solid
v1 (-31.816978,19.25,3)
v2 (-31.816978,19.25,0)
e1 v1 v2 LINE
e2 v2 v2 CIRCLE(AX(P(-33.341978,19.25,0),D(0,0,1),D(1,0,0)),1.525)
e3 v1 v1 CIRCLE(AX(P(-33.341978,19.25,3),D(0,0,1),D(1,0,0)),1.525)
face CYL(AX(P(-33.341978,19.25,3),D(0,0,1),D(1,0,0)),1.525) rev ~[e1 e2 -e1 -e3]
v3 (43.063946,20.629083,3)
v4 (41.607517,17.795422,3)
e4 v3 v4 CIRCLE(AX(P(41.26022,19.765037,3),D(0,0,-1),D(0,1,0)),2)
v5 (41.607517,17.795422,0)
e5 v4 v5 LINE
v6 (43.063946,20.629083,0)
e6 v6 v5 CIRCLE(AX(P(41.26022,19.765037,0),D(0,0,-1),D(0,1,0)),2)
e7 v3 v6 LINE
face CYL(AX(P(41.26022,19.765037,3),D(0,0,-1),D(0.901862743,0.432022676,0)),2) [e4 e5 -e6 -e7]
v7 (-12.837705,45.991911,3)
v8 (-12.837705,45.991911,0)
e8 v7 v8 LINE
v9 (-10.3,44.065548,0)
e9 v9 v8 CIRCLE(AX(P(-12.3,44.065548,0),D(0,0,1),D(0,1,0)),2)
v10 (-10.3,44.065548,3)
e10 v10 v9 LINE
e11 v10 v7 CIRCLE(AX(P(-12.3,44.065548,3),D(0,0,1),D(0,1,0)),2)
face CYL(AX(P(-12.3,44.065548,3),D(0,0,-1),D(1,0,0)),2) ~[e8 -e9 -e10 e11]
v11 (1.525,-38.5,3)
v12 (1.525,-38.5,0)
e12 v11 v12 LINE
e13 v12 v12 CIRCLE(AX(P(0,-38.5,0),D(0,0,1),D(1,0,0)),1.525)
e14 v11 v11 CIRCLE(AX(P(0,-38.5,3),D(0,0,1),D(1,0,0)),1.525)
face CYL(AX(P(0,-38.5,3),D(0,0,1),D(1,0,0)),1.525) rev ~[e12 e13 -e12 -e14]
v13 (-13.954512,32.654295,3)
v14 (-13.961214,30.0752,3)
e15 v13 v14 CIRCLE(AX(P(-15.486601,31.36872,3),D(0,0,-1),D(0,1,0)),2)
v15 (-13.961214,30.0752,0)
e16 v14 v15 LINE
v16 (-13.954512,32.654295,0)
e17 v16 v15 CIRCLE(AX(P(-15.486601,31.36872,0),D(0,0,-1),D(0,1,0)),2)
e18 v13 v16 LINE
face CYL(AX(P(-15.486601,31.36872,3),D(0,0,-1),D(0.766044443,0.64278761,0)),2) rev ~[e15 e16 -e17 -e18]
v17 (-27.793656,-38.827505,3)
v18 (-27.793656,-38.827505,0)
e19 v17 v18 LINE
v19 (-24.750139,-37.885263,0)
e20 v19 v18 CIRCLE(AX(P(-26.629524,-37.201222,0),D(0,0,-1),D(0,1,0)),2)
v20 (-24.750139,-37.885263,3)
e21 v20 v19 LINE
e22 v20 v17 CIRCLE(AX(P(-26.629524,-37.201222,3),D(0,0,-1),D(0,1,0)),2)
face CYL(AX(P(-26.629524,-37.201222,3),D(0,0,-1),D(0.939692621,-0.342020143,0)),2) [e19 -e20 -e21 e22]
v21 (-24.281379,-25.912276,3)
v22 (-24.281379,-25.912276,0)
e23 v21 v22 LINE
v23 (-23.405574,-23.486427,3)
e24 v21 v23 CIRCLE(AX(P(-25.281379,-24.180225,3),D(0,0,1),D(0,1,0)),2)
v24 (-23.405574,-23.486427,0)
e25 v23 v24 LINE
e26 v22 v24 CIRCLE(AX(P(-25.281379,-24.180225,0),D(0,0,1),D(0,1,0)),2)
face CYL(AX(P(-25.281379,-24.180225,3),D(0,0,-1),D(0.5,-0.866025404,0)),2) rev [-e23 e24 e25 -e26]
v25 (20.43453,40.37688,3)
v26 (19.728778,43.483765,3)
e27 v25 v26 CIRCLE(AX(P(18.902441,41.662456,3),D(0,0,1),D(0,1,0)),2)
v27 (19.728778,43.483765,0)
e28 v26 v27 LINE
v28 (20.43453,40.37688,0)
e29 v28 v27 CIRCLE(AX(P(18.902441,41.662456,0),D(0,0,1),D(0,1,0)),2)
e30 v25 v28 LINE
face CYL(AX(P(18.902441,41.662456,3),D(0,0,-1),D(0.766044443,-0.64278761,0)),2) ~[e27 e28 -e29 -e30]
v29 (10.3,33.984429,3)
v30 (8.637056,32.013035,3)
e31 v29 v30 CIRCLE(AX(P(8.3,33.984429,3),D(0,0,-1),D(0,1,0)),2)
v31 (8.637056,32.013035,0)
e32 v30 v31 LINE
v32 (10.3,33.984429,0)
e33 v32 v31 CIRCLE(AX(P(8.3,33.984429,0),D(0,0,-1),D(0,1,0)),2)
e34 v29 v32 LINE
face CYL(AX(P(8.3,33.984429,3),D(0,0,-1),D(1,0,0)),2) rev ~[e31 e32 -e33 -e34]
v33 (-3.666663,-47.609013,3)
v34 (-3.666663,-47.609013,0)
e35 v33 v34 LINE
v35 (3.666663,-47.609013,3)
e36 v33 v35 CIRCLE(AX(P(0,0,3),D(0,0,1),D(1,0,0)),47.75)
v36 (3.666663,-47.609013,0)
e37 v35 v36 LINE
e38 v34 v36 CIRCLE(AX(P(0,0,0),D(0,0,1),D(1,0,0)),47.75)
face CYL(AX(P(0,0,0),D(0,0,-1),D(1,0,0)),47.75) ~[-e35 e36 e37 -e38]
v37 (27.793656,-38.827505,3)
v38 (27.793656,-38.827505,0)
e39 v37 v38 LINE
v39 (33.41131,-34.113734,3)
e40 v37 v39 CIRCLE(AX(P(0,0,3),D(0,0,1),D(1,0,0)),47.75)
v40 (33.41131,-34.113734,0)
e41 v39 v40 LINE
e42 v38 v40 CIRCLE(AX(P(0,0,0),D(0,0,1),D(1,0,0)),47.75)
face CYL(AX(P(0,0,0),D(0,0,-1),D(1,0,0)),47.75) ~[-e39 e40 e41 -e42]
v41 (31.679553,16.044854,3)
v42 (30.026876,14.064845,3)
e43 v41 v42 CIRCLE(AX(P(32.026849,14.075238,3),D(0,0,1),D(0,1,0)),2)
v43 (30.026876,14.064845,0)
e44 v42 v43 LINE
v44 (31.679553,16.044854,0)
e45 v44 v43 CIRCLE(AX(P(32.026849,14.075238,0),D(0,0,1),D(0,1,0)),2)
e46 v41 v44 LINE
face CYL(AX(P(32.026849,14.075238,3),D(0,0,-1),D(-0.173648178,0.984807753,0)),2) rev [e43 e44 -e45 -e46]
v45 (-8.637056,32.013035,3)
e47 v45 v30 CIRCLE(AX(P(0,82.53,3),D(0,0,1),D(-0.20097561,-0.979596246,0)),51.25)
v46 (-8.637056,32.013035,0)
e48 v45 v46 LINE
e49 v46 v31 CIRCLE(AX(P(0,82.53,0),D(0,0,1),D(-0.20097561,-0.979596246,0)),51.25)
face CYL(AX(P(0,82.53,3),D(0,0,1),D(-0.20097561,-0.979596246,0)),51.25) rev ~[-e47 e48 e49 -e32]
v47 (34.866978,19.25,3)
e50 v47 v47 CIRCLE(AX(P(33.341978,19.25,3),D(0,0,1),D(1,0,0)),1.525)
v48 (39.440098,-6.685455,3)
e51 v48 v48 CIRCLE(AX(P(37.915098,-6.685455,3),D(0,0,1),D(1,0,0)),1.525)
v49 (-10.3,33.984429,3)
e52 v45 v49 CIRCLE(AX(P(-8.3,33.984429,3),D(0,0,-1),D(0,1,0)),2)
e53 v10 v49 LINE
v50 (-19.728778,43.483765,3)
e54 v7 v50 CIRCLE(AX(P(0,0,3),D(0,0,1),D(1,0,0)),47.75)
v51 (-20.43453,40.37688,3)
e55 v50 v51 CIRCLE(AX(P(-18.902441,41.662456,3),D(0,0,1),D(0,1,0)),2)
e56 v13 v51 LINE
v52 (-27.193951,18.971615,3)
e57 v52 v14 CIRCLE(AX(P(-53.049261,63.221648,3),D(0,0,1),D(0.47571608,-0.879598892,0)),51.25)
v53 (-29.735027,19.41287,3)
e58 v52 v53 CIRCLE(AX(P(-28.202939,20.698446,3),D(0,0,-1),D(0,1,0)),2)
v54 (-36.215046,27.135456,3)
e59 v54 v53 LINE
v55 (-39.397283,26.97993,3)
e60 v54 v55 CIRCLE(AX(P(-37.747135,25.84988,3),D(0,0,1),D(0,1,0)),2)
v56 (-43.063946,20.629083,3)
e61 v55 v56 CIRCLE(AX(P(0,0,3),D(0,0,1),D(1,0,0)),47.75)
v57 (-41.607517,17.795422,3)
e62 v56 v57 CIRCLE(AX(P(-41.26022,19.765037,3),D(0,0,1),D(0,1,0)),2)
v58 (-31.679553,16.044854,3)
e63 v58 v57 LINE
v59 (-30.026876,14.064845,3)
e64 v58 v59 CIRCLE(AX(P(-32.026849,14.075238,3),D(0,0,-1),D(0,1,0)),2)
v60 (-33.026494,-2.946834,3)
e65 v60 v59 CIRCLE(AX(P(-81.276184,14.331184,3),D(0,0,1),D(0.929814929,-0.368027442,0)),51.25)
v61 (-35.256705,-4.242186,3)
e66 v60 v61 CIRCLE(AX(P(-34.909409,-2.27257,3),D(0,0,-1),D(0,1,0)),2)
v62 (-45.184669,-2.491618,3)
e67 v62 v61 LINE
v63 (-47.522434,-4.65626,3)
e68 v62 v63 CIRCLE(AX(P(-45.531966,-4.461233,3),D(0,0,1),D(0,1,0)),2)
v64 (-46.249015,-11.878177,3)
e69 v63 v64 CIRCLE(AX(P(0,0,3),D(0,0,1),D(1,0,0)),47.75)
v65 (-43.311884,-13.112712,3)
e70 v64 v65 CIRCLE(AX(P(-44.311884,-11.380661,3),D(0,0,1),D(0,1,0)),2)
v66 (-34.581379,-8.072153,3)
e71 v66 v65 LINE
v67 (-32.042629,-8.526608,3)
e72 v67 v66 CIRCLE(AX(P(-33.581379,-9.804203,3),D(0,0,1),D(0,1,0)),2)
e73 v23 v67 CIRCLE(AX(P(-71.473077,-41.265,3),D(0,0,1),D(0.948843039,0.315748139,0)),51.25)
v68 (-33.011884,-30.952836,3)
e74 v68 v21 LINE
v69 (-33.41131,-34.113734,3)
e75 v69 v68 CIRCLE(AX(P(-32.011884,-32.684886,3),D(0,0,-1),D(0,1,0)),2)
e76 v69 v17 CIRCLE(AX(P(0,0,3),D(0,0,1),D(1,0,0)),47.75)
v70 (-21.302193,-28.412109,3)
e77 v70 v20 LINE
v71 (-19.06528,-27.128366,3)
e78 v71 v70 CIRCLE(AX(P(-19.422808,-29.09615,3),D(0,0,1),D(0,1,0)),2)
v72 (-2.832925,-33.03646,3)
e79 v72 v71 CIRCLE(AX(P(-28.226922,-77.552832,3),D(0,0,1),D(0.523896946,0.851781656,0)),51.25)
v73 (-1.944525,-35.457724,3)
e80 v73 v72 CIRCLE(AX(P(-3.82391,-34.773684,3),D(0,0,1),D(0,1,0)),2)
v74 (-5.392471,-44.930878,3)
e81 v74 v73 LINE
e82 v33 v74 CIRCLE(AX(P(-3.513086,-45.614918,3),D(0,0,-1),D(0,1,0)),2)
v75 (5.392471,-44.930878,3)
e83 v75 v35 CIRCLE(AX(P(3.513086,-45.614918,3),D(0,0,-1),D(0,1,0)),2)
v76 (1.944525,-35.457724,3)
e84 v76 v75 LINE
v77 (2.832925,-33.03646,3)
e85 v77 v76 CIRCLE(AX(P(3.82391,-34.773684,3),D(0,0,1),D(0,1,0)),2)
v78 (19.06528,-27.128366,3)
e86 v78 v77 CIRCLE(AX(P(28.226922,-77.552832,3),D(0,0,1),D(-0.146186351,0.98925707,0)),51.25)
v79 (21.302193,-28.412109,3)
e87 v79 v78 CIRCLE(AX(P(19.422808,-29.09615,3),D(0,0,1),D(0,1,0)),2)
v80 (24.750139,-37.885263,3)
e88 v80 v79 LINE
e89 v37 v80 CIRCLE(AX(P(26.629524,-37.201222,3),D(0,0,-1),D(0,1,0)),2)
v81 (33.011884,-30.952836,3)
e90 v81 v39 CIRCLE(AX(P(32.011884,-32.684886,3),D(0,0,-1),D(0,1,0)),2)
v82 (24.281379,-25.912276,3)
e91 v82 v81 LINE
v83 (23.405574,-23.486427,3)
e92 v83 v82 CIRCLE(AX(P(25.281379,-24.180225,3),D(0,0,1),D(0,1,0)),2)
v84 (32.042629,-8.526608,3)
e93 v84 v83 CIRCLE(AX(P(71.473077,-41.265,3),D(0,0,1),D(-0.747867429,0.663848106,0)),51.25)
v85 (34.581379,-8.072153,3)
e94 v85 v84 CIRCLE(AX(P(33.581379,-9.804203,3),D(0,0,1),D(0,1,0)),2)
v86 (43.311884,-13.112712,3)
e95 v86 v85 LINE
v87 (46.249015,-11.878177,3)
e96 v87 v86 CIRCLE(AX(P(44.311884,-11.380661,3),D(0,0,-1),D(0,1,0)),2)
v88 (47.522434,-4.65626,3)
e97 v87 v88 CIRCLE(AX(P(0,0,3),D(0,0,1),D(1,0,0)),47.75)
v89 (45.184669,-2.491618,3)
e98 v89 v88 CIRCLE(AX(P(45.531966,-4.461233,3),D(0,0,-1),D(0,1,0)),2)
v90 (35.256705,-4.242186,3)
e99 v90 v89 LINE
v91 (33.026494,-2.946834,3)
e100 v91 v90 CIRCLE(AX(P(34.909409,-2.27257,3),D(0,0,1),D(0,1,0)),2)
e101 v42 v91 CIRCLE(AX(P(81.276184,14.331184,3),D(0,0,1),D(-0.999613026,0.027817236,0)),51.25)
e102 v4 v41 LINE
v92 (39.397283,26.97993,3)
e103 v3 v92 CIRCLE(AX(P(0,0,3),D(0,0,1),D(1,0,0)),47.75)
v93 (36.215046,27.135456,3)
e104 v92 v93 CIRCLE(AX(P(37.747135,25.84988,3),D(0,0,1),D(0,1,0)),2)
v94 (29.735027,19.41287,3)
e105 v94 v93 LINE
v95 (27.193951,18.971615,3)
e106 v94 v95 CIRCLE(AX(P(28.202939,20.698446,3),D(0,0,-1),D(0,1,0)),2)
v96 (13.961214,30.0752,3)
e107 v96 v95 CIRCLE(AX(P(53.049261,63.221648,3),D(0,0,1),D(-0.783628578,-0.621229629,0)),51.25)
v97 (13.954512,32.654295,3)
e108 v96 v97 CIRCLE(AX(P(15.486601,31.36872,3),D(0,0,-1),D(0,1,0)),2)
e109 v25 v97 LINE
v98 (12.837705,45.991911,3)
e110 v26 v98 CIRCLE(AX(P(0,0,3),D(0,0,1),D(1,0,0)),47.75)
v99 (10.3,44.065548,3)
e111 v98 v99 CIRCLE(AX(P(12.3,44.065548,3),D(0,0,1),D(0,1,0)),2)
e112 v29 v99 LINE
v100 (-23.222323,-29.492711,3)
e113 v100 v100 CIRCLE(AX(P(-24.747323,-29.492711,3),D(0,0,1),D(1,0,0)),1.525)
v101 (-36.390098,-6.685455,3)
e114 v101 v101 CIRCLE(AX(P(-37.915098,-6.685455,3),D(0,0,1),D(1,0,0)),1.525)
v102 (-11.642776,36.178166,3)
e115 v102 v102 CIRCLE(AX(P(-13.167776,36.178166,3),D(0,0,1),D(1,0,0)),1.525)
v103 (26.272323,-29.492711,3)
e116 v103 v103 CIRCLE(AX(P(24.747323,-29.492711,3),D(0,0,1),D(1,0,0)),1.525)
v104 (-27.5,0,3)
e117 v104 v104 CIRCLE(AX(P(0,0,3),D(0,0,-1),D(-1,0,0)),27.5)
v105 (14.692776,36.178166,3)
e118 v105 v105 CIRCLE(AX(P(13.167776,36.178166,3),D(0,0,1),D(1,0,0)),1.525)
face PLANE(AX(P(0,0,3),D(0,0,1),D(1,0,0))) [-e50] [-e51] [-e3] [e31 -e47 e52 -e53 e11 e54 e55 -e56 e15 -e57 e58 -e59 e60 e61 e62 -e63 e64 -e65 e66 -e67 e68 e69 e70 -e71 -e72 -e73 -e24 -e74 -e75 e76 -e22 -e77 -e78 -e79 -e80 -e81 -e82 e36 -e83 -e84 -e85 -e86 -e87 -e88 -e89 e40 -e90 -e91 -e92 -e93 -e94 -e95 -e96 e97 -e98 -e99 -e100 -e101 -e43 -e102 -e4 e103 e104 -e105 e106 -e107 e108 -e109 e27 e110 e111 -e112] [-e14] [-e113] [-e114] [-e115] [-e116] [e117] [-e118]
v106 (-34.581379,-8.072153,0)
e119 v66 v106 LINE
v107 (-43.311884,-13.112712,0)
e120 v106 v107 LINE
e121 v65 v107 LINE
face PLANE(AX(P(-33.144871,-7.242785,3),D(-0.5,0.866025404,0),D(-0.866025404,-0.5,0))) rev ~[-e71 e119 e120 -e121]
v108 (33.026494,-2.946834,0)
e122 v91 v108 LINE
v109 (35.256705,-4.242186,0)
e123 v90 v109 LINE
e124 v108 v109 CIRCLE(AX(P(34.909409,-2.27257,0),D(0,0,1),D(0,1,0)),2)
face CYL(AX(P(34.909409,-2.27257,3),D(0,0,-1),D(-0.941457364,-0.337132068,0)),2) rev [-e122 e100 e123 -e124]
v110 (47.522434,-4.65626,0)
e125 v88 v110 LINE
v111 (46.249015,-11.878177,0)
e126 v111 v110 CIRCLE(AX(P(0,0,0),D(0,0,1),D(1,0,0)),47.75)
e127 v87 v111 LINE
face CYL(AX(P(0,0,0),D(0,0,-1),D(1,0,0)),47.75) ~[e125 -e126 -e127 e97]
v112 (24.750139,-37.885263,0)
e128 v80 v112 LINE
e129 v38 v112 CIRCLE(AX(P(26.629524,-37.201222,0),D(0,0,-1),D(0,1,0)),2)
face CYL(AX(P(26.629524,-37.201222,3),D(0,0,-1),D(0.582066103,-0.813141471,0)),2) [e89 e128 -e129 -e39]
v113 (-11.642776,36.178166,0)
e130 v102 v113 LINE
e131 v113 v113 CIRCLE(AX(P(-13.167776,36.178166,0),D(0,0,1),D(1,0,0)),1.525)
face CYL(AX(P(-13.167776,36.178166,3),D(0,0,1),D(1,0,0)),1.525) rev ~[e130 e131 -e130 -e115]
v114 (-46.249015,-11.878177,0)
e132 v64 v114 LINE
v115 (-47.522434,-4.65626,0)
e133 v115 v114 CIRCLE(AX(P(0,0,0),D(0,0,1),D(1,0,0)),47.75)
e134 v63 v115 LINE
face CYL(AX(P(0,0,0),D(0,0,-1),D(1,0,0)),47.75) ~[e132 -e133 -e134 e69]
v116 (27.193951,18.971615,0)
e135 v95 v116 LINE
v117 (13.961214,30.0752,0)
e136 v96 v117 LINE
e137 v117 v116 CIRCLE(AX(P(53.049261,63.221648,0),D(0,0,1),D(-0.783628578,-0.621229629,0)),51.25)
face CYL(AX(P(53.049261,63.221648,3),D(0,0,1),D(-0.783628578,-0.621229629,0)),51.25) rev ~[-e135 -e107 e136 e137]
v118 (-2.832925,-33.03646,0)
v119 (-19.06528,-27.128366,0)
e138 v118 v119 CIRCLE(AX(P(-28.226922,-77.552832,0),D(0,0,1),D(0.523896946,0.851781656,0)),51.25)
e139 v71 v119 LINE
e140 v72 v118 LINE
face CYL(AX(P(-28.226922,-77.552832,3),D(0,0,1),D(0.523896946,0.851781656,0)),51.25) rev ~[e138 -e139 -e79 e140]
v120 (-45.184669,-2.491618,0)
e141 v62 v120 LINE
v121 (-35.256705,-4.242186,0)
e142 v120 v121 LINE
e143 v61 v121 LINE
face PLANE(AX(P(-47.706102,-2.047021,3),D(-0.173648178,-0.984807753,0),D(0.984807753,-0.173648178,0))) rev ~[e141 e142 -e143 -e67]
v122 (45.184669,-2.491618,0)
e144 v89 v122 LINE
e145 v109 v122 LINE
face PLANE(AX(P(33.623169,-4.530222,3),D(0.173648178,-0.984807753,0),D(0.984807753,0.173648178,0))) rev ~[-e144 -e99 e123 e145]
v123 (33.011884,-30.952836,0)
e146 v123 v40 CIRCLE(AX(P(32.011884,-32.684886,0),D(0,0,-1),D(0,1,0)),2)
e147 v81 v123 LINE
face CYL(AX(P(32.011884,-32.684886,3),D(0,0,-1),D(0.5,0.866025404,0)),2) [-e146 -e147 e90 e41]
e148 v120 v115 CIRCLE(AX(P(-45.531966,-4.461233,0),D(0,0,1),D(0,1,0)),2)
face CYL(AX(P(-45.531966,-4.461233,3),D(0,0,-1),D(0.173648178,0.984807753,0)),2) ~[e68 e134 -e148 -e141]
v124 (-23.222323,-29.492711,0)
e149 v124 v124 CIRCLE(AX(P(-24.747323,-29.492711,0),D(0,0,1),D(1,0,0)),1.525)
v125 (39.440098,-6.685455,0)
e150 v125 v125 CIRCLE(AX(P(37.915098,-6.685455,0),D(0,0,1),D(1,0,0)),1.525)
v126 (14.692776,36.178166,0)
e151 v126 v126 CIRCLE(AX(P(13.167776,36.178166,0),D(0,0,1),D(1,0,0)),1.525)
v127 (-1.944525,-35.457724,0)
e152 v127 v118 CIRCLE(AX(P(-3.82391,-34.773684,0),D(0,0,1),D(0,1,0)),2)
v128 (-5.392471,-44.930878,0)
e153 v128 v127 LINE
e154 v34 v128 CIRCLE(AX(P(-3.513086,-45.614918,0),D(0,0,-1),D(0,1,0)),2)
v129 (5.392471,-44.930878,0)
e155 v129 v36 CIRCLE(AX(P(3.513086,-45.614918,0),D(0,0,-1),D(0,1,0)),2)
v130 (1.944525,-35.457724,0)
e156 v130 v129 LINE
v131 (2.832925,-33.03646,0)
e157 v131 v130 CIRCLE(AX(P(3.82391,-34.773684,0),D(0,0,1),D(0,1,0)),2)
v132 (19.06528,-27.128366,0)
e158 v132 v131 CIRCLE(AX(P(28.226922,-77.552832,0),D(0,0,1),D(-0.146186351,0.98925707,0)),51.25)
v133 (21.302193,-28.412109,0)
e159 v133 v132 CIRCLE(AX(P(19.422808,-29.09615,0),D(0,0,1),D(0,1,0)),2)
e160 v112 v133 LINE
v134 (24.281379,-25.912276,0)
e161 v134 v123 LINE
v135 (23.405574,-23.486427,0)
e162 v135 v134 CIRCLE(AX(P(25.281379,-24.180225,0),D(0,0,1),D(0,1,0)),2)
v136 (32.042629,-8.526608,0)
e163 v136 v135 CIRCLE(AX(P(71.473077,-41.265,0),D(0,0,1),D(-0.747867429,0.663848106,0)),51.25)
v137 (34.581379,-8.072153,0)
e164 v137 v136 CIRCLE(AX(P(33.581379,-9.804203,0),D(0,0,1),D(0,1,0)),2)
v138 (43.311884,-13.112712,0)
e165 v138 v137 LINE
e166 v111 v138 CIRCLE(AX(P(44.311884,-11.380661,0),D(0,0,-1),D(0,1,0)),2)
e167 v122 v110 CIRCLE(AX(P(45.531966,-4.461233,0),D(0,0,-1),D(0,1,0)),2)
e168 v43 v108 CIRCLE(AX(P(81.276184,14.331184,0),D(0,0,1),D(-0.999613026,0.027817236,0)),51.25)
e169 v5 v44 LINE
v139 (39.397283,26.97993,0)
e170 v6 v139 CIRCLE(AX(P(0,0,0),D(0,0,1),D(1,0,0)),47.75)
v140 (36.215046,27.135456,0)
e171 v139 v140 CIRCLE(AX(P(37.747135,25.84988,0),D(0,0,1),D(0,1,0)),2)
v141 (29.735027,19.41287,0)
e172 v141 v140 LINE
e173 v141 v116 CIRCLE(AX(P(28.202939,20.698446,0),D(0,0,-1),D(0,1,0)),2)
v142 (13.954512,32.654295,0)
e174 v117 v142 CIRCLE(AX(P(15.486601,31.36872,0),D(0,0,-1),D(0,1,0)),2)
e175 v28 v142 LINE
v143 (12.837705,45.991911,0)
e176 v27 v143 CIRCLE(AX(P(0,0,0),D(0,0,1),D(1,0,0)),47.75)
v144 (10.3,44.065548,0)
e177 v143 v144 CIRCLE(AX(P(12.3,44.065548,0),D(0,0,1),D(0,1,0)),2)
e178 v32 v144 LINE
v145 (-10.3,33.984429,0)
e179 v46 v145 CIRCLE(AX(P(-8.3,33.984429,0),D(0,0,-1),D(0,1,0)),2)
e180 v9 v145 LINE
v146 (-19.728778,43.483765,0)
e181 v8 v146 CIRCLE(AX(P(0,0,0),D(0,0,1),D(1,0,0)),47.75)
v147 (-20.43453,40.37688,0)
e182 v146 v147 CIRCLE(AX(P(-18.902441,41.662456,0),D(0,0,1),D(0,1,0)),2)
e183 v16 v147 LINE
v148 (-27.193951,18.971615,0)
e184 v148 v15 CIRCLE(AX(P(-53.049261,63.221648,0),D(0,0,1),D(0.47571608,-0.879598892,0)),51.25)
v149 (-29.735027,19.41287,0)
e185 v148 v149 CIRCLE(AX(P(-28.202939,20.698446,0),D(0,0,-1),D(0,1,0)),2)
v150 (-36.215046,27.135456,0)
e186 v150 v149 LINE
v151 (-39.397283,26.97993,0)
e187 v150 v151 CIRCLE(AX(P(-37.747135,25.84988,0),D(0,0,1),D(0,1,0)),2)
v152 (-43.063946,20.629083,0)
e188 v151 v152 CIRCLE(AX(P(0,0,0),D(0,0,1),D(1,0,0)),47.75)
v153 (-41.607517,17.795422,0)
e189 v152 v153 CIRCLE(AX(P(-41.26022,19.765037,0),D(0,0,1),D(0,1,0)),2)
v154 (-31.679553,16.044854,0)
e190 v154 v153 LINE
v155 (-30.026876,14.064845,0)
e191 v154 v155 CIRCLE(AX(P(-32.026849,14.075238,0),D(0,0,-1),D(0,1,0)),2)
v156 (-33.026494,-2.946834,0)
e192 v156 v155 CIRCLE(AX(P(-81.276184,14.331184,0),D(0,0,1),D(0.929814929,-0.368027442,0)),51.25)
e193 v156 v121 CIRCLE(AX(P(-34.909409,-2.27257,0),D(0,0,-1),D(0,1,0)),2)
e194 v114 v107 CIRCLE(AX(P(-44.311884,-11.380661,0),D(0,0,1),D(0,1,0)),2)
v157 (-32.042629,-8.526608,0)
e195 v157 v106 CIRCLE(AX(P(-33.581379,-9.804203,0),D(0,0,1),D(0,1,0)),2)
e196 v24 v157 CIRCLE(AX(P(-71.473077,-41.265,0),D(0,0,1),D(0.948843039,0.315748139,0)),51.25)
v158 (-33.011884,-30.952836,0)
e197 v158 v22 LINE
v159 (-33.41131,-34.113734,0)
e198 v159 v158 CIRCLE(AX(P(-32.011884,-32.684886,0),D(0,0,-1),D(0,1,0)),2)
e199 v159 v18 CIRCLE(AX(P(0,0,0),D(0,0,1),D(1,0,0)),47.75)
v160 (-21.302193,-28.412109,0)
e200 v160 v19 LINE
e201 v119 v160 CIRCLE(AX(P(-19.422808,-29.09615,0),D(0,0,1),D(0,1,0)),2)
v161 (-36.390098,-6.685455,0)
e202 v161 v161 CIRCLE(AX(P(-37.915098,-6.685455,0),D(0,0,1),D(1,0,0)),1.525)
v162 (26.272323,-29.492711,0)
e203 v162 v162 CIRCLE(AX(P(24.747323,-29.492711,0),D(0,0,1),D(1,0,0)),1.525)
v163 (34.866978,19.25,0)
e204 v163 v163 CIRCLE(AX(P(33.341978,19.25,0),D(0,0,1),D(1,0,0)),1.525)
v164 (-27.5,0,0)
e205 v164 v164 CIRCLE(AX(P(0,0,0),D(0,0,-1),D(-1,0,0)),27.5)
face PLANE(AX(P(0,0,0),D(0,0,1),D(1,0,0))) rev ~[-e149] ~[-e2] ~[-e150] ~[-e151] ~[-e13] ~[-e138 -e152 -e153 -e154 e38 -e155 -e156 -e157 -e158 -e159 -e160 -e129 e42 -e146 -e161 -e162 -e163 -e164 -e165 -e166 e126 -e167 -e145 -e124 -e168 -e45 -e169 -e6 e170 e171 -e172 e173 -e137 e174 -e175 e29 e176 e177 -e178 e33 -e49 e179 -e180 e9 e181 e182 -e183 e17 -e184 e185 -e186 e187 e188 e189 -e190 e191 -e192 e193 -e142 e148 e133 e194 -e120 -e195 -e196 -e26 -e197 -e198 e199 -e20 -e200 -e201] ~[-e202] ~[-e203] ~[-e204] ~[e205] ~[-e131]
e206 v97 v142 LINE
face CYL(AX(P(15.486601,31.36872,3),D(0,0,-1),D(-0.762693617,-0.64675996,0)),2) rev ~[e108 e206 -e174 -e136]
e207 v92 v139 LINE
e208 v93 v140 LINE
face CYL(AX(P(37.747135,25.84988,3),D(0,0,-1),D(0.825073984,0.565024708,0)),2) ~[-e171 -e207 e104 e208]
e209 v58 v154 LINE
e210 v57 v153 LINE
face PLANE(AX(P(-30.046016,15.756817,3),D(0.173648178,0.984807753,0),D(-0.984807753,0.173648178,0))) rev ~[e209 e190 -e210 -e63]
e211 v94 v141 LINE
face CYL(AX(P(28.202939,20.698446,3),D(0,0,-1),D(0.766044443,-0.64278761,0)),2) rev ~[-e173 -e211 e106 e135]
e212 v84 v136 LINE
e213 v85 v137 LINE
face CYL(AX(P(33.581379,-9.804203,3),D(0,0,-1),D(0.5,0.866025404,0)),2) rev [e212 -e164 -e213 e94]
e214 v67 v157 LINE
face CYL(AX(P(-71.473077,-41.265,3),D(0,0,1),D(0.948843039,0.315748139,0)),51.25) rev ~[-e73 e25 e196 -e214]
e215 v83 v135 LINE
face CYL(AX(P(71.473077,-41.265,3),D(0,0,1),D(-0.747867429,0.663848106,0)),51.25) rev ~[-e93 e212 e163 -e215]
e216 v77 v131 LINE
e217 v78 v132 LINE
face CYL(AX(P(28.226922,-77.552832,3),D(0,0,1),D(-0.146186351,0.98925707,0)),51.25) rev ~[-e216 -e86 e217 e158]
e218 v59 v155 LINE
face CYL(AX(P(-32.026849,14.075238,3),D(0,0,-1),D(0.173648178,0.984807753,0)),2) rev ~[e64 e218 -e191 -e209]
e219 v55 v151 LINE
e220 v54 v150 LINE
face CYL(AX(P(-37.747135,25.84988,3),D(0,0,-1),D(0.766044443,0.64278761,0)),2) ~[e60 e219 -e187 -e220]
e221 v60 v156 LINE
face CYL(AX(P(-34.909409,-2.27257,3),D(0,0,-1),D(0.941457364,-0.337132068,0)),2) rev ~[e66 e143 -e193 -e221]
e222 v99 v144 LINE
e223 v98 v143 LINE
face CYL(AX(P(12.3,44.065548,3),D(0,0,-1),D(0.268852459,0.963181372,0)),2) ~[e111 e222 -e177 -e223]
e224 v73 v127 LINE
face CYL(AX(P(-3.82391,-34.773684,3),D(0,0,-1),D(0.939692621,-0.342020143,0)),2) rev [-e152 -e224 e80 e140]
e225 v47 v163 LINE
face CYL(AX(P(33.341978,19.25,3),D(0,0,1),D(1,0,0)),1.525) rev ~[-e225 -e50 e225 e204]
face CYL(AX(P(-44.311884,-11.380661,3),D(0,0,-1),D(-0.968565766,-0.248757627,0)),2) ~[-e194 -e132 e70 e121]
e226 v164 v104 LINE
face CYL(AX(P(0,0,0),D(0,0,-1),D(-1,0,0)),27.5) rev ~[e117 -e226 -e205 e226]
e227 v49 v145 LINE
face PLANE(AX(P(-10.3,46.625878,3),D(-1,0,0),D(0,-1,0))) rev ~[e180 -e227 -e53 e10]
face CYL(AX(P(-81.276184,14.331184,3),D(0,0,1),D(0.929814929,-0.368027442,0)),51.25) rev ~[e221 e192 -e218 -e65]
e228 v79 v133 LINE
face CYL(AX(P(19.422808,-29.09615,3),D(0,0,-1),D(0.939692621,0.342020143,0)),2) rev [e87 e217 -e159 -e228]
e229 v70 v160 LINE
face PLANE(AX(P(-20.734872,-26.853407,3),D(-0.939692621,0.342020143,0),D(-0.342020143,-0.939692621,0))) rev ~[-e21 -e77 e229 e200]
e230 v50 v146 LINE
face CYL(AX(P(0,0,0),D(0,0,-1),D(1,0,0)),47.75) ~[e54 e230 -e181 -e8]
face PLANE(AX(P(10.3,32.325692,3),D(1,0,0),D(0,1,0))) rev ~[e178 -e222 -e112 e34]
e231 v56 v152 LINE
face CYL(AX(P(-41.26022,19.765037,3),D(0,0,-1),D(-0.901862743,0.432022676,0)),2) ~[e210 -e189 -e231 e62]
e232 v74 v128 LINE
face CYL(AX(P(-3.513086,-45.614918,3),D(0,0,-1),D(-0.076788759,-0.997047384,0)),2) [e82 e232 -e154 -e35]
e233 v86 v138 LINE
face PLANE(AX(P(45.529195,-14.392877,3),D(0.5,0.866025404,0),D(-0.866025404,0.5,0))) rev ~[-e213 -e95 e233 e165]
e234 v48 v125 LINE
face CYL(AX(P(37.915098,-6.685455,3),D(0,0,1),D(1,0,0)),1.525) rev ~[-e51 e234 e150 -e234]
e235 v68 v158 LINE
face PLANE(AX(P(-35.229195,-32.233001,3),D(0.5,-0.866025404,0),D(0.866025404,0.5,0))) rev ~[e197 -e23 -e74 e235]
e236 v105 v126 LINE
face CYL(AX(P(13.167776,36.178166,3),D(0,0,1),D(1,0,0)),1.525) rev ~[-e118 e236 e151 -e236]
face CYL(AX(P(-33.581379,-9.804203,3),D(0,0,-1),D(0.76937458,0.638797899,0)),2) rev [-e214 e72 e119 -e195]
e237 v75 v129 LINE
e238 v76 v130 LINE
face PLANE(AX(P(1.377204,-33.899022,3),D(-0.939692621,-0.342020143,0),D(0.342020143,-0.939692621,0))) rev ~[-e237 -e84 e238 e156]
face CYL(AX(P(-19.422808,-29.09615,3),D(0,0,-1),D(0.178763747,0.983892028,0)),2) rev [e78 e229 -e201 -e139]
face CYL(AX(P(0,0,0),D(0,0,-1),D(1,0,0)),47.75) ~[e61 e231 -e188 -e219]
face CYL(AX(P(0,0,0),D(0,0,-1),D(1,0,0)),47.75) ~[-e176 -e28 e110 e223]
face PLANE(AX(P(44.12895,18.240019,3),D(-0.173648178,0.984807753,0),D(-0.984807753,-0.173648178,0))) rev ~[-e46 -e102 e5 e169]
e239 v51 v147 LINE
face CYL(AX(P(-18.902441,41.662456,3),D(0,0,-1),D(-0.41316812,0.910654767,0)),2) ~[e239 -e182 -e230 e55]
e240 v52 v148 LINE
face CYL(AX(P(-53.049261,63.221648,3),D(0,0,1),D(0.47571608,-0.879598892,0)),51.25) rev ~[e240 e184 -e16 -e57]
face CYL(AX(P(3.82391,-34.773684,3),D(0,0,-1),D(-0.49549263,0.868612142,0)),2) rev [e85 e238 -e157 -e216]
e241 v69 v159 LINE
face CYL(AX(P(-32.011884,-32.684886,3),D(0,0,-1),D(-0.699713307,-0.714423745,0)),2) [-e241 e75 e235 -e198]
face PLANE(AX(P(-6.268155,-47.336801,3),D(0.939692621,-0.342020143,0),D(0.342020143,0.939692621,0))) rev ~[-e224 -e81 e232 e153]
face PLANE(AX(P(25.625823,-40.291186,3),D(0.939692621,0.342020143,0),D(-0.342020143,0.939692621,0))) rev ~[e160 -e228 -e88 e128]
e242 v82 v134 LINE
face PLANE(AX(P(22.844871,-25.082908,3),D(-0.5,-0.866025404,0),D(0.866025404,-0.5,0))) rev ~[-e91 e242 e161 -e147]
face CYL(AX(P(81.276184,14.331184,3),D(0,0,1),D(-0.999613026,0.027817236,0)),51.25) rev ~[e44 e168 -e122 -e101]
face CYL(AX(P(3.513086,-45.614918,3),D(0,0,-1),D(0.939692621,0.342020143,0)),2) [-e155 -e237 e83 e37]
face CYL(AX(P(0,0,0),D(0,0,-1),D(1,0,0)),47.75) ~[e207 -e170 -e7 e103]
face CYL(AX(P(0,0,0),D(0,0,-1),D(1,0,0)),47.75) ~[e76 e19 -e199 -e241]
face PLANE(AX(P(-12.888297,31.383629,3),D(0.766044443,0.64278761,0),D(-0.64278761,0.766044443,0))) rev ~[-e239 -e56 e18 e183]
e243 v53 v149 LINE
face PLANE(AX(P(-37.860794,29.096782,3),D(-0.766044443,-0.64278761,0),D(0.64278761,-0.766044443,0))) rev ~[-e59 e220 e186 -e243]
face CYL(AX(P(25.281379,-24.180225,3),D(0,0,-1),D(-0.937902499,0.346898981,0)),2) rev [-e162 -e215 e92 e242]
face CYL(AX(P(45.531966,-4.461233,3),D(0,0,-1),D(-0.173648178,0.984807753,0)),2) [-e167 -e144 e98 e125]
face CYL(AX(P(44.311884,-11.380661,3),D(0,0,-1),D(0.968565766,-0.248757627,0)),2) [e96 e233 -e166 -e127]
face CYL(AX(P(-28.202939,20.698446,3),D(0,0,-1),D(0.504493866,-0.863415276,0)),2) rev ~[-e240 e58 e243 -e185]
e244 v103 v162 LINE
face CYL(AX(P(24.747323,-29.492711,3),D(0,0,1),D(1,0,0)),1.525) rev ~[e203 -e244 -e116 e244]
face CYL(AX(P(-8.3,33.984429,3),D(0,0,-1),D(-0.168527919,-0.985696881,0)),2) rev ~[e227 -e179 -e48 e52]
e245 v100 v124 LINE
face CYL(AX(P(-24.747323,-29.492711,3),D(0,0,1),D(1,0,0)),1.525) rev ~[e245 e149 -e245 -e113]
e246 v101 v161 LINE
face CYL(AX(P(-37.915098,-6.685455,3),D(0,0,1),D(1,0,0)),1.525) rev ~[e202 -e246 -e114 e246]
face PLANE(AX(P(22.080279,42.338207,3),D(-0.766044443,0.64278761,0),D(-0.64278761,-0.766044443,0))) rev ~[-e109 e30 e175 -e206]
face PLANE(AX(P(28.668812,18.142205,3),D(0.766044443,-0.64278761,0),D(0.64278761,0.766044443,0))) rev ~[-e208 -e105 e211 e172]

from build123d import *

# Parameters (mm, degrees)
SKETCH_1_R          = 47.75
EXTRUDE_1_DEPTH     = 3
CUT_EXTRUDE_1_DEPTH = 68.595303091
SKETCH_3_R          = 1.525
CUT_EXTRUDE_2_DEPTH = 68.564300519
SKETCH_4_R          = 27.5
CUT_EXTRUDE_3_DEPTH = 68.564300519
FILLET_1_R          = 2


with BuildPart() as part:
    # ｽｹｯﾁ1 → ﾎﾞｽ - 押し出し1 (new body)
    with BuildSketch(Plane.XY):
        Circle(SKETCH_1_R)
    extrude(amount=EXTRUDE_1_DEPTH)

    # ｽｹｯﾁ2 → ｶｯﾄ - 押し出し1 (cut, through all)
    with BuildSketch(Plane.XY.offset(3)):
        with BuildLine():
            Line((-10.3, 46.625878008), (-10.3, 32.325692416))
            ThreePointArc((-10.3, 32.325692416), (0, 31.28), (10.3, 32.325692416))
            Line((10.3, 32.325692416), (10.3, 46.625878008))
            ThreePointArc((10.3, 46.625878008), (0, 47.75), (-10.3, 46.625878008))
        make_face()
        with BuildLine():
            Line((22.08027891, 42.338207133), (12.888296795, 31.383629425))
            ThreePointArc((12.888296795, 31.383629425), (20.106396431, 23.961870181), (28.668812324, 18.142204665))
            Line((28.668812324, 18.142204665), (37.860794438, 29.096782374))
            ThreePointArc((37.860794438, 29.096782374), (30.693108363, 36.578622159), (22.08027891, 42.338207133))
        make_face()
        with BuildLine():
            Line((44.128949923, 18.240018604), (30.046016283, 15.756817436))
            ThreePointArc((30.046016283, 15.756817436), (30.804786514, 5.431714997), (33.623168743, -4.530222276))
            Line((33.623168743, -4.530222276), (47.706102383, -2.047021108))
            ThreePointArc((47.706102383, -2.047021108), (47.024570206, 8.291700484), (44.128949923, 18.240018604))
        make_face()
        with BuildLine():
            Line((45.529194829, -14.392877345), (33.144870827, -7.242784549))
            ThreePointArc((33.144870827, -7.242784549), (27.08927463, -15.64), (22.844870827, -25.082907867))
            Line((22.844870827, -25.082907867), (35.229194829, -32.233000663))
            ThreePointArc((35.229194829, -32.233000663), (41.352713031, -23.875), (45.529194829, -14.392877345))
        make_face()
        with BuildLine():
            Line((25.625823473, -40.291186025), (20.734871947, -26.853407149))
            ThreePointArc((20.734871947, -26.853407149), (10.698390083, -29.393585178), (1.377203959, -33.899022101))
            Line((1.377203959, -33.899022101), (6.268155485, -47.336800978))
            ThreePointArc((6.268155485, -47.336800978), (16.331461844, -44.870322643), (25.625823473, -40.291186025))
        make_face()
        with BuildLine():
            Line((-6.268155485, -47.336800978), (-1.377203959, -33.899022101))
            ThreePointArc((-1.377203959, -33.899022101), (-10.698390083, -29.393585178), (-20.734871947, -26.853407149))
            Line((-20.734871947, -26.853407149), (-25.625823473, -40.291186025))
            ThreePointArc((-25.625823473, -40.291186025), (-16.331461844, -44.870322643), (-6.268155485, -47.336800978))
        make_face()
        with BuildLine():
            Line((-35.229194829, -32.233000663), (-22.844870827, -25.082907867))
            ThreePointArc((-22.844870827, -25.082907867), (-27.08927463, -15.64), (-33.144870827, -7.242784549))
            Line((-33.144870827, -7.242784549), (-45.529194829, -14.392877345))
            ThreePointArc((-45.529194829, -14.392877345), (-41.352713031, -23.875), (-35.229194829, -32.233000663))
        make_face()
        with BuildLine():
            Line((-47.706102383, -2.047021108), (-33.623168743, -4.530222276))
            ThreePointArc((-33.623168743, -4.530222276), (-30.804786514, 5.431714997), (-30.046016283, 15.756817436))
            Line((-30.046016283, 15.756817436), (-44.128949923, 18.240018604))
            ThreePointArc((-44.128949923, 18.240018604), (-47.024570206, 8.291700484), (-47.706102383, -2.047021108))
        make_face()
        with BuildLine():
            Line((-37.860794438, 29.096782374), (-28.668812324, 18.142204665))
            ThreePointArc((-28.668812324, 18.142204665), (-20.106396431, 23.961870181), (-12.888296795, 31.383629425))
            Line((-12.888296795, 31.383629425), (-22.08027891, 42.338207133))
            ThreePointArc((-22.08027891, 42.338207133), (-30.693108363, 36.578622159), (-37.860794438, 29.096782374))
        make_face()
    extrude(amount=-CUT_EXTRUDE_1_DEPTH, mode=Mode.SUBTRACT)

    # ｽｹｯﾁ3 → ｶｯﾄ - 押し出し2 (cut, through all)
    with BuildSketch(Plane.XY.offset(3)):
        with Locations((0, -38.5)):
            Circle(SKETCH_3_R)
        with Locations((-24.747322973, -29.49271106)):
            Circle(SKETCH_3_R)
        with Locations((-37.915098491, -6.68545484)):
            Circle(SKETCH_3_R)
        with Locations((-33.341978046, 19.25)):
            Circle(SKETCH_3_R)
        with Locations((-13.167775518, 36.1781659)):
            Circle(SKETCH_3_R)
        with Locations((13.167775518, 36.1781659)):
            Circle(SKETCH_3_R)
        with Locations((33.341978046, 19.25)):
            Circle(SKETCH_3_R)
        with Locations((37.915098491, -6.68545484)):
            Circle(SKETCH_3_R)
        with Locations((24.747322973, -29.49271106)):
            Circle(SKETCH_3_R)
    extrude(amount=-CUT_EXTRUDE_2_DEPTH, mode=Mode.SUBTRACT)

    # ｽｹｯﾁ4 → ｶｯﾄ - 押し出し3 (cut, through all)
    with BuildSketch(Plane(origin=(0, 0, 0), x_dir=(-1, 0, 0), z_dir=(0, 0, -1))):
        Circle(SKETCH_4_R)
    extrude(amount=-CUT_EXTRUDE_3_DEPTH, mode=Mode.SUBTRACT)

    # ﾌｨﾚｯﾄ1
    fillet_1_edges = [part.edges().sort_by_distance(p)[0] for p in [
        (-30.046016283, 15.756817436, 1.5),
        (-33.623168743, -4.530222276, 1.5),
        (-47.706102383, -2.047021108, 1.5),
        (-44.128949923, 18.240018604, 1.5),
        (-12.888296795, 31.383629425, 1.5),
        (-28.668812324, 18.142204665, 1.5),
        (-37.860794438, 29.096782374, 1.5),
        (-22.08027891, 42.338207133, 1.5),
        (-20.734871947, -26.853407149, 1.5),
        (-1.377203959, -33.899022101, 1.5),
        (-6.268155485, -47.336800978, 1.5),
        (-25.625823473, -40.291186025, 1.5),
        (-33.144870827, -7.242784549, 1.5),
        (-22.844870827, -25.082907867, 1.5),
        (-35.229194829, -32.233000663, 1.5),
        (-45.529194829, -14.392877345, 1.5),
        (22.844870827, -25.082907867, 1.5),
        (33.144870827, -7.242784549, 1.5),
        (45.529194829, -14.392877345, 1.5),
        (35.229194829, -32.233000663, 1.5),
        (1.377203959, -33.899022101, 1.5),
        (20.734871947, -26.853407149, 1.5),
        (25.625823473, -40.291186025, 1.5),
        (6.268155485, -47.336800978, 1.5),
        (28.668812324, 18.142204665, 1.5),
        (12.888296795, 31.383629425, 1.5),
        (22.08027891, 42.338207133, 1.5),
        (37.860794438, 29.096782374, 1.5),
        (33.623168743, -4.530222276, 1.5),
        (30.046016283, 15.756817436, 1.5),
        (44.128949923, 18.240018604, 1.5),
        (47.706102383, -2.047021108, 1.5),
        (10.3, 32.325692416, 1.5),
        (-10.3, 32.325692416, 1.5),
        (-10.3, 46.625878008, 1.5),
        (10.3, 46.625878008, 1.5),
    ]]
    fillet(fillet_1_edges, radius=FILLET_1_R)


solid = part.part
